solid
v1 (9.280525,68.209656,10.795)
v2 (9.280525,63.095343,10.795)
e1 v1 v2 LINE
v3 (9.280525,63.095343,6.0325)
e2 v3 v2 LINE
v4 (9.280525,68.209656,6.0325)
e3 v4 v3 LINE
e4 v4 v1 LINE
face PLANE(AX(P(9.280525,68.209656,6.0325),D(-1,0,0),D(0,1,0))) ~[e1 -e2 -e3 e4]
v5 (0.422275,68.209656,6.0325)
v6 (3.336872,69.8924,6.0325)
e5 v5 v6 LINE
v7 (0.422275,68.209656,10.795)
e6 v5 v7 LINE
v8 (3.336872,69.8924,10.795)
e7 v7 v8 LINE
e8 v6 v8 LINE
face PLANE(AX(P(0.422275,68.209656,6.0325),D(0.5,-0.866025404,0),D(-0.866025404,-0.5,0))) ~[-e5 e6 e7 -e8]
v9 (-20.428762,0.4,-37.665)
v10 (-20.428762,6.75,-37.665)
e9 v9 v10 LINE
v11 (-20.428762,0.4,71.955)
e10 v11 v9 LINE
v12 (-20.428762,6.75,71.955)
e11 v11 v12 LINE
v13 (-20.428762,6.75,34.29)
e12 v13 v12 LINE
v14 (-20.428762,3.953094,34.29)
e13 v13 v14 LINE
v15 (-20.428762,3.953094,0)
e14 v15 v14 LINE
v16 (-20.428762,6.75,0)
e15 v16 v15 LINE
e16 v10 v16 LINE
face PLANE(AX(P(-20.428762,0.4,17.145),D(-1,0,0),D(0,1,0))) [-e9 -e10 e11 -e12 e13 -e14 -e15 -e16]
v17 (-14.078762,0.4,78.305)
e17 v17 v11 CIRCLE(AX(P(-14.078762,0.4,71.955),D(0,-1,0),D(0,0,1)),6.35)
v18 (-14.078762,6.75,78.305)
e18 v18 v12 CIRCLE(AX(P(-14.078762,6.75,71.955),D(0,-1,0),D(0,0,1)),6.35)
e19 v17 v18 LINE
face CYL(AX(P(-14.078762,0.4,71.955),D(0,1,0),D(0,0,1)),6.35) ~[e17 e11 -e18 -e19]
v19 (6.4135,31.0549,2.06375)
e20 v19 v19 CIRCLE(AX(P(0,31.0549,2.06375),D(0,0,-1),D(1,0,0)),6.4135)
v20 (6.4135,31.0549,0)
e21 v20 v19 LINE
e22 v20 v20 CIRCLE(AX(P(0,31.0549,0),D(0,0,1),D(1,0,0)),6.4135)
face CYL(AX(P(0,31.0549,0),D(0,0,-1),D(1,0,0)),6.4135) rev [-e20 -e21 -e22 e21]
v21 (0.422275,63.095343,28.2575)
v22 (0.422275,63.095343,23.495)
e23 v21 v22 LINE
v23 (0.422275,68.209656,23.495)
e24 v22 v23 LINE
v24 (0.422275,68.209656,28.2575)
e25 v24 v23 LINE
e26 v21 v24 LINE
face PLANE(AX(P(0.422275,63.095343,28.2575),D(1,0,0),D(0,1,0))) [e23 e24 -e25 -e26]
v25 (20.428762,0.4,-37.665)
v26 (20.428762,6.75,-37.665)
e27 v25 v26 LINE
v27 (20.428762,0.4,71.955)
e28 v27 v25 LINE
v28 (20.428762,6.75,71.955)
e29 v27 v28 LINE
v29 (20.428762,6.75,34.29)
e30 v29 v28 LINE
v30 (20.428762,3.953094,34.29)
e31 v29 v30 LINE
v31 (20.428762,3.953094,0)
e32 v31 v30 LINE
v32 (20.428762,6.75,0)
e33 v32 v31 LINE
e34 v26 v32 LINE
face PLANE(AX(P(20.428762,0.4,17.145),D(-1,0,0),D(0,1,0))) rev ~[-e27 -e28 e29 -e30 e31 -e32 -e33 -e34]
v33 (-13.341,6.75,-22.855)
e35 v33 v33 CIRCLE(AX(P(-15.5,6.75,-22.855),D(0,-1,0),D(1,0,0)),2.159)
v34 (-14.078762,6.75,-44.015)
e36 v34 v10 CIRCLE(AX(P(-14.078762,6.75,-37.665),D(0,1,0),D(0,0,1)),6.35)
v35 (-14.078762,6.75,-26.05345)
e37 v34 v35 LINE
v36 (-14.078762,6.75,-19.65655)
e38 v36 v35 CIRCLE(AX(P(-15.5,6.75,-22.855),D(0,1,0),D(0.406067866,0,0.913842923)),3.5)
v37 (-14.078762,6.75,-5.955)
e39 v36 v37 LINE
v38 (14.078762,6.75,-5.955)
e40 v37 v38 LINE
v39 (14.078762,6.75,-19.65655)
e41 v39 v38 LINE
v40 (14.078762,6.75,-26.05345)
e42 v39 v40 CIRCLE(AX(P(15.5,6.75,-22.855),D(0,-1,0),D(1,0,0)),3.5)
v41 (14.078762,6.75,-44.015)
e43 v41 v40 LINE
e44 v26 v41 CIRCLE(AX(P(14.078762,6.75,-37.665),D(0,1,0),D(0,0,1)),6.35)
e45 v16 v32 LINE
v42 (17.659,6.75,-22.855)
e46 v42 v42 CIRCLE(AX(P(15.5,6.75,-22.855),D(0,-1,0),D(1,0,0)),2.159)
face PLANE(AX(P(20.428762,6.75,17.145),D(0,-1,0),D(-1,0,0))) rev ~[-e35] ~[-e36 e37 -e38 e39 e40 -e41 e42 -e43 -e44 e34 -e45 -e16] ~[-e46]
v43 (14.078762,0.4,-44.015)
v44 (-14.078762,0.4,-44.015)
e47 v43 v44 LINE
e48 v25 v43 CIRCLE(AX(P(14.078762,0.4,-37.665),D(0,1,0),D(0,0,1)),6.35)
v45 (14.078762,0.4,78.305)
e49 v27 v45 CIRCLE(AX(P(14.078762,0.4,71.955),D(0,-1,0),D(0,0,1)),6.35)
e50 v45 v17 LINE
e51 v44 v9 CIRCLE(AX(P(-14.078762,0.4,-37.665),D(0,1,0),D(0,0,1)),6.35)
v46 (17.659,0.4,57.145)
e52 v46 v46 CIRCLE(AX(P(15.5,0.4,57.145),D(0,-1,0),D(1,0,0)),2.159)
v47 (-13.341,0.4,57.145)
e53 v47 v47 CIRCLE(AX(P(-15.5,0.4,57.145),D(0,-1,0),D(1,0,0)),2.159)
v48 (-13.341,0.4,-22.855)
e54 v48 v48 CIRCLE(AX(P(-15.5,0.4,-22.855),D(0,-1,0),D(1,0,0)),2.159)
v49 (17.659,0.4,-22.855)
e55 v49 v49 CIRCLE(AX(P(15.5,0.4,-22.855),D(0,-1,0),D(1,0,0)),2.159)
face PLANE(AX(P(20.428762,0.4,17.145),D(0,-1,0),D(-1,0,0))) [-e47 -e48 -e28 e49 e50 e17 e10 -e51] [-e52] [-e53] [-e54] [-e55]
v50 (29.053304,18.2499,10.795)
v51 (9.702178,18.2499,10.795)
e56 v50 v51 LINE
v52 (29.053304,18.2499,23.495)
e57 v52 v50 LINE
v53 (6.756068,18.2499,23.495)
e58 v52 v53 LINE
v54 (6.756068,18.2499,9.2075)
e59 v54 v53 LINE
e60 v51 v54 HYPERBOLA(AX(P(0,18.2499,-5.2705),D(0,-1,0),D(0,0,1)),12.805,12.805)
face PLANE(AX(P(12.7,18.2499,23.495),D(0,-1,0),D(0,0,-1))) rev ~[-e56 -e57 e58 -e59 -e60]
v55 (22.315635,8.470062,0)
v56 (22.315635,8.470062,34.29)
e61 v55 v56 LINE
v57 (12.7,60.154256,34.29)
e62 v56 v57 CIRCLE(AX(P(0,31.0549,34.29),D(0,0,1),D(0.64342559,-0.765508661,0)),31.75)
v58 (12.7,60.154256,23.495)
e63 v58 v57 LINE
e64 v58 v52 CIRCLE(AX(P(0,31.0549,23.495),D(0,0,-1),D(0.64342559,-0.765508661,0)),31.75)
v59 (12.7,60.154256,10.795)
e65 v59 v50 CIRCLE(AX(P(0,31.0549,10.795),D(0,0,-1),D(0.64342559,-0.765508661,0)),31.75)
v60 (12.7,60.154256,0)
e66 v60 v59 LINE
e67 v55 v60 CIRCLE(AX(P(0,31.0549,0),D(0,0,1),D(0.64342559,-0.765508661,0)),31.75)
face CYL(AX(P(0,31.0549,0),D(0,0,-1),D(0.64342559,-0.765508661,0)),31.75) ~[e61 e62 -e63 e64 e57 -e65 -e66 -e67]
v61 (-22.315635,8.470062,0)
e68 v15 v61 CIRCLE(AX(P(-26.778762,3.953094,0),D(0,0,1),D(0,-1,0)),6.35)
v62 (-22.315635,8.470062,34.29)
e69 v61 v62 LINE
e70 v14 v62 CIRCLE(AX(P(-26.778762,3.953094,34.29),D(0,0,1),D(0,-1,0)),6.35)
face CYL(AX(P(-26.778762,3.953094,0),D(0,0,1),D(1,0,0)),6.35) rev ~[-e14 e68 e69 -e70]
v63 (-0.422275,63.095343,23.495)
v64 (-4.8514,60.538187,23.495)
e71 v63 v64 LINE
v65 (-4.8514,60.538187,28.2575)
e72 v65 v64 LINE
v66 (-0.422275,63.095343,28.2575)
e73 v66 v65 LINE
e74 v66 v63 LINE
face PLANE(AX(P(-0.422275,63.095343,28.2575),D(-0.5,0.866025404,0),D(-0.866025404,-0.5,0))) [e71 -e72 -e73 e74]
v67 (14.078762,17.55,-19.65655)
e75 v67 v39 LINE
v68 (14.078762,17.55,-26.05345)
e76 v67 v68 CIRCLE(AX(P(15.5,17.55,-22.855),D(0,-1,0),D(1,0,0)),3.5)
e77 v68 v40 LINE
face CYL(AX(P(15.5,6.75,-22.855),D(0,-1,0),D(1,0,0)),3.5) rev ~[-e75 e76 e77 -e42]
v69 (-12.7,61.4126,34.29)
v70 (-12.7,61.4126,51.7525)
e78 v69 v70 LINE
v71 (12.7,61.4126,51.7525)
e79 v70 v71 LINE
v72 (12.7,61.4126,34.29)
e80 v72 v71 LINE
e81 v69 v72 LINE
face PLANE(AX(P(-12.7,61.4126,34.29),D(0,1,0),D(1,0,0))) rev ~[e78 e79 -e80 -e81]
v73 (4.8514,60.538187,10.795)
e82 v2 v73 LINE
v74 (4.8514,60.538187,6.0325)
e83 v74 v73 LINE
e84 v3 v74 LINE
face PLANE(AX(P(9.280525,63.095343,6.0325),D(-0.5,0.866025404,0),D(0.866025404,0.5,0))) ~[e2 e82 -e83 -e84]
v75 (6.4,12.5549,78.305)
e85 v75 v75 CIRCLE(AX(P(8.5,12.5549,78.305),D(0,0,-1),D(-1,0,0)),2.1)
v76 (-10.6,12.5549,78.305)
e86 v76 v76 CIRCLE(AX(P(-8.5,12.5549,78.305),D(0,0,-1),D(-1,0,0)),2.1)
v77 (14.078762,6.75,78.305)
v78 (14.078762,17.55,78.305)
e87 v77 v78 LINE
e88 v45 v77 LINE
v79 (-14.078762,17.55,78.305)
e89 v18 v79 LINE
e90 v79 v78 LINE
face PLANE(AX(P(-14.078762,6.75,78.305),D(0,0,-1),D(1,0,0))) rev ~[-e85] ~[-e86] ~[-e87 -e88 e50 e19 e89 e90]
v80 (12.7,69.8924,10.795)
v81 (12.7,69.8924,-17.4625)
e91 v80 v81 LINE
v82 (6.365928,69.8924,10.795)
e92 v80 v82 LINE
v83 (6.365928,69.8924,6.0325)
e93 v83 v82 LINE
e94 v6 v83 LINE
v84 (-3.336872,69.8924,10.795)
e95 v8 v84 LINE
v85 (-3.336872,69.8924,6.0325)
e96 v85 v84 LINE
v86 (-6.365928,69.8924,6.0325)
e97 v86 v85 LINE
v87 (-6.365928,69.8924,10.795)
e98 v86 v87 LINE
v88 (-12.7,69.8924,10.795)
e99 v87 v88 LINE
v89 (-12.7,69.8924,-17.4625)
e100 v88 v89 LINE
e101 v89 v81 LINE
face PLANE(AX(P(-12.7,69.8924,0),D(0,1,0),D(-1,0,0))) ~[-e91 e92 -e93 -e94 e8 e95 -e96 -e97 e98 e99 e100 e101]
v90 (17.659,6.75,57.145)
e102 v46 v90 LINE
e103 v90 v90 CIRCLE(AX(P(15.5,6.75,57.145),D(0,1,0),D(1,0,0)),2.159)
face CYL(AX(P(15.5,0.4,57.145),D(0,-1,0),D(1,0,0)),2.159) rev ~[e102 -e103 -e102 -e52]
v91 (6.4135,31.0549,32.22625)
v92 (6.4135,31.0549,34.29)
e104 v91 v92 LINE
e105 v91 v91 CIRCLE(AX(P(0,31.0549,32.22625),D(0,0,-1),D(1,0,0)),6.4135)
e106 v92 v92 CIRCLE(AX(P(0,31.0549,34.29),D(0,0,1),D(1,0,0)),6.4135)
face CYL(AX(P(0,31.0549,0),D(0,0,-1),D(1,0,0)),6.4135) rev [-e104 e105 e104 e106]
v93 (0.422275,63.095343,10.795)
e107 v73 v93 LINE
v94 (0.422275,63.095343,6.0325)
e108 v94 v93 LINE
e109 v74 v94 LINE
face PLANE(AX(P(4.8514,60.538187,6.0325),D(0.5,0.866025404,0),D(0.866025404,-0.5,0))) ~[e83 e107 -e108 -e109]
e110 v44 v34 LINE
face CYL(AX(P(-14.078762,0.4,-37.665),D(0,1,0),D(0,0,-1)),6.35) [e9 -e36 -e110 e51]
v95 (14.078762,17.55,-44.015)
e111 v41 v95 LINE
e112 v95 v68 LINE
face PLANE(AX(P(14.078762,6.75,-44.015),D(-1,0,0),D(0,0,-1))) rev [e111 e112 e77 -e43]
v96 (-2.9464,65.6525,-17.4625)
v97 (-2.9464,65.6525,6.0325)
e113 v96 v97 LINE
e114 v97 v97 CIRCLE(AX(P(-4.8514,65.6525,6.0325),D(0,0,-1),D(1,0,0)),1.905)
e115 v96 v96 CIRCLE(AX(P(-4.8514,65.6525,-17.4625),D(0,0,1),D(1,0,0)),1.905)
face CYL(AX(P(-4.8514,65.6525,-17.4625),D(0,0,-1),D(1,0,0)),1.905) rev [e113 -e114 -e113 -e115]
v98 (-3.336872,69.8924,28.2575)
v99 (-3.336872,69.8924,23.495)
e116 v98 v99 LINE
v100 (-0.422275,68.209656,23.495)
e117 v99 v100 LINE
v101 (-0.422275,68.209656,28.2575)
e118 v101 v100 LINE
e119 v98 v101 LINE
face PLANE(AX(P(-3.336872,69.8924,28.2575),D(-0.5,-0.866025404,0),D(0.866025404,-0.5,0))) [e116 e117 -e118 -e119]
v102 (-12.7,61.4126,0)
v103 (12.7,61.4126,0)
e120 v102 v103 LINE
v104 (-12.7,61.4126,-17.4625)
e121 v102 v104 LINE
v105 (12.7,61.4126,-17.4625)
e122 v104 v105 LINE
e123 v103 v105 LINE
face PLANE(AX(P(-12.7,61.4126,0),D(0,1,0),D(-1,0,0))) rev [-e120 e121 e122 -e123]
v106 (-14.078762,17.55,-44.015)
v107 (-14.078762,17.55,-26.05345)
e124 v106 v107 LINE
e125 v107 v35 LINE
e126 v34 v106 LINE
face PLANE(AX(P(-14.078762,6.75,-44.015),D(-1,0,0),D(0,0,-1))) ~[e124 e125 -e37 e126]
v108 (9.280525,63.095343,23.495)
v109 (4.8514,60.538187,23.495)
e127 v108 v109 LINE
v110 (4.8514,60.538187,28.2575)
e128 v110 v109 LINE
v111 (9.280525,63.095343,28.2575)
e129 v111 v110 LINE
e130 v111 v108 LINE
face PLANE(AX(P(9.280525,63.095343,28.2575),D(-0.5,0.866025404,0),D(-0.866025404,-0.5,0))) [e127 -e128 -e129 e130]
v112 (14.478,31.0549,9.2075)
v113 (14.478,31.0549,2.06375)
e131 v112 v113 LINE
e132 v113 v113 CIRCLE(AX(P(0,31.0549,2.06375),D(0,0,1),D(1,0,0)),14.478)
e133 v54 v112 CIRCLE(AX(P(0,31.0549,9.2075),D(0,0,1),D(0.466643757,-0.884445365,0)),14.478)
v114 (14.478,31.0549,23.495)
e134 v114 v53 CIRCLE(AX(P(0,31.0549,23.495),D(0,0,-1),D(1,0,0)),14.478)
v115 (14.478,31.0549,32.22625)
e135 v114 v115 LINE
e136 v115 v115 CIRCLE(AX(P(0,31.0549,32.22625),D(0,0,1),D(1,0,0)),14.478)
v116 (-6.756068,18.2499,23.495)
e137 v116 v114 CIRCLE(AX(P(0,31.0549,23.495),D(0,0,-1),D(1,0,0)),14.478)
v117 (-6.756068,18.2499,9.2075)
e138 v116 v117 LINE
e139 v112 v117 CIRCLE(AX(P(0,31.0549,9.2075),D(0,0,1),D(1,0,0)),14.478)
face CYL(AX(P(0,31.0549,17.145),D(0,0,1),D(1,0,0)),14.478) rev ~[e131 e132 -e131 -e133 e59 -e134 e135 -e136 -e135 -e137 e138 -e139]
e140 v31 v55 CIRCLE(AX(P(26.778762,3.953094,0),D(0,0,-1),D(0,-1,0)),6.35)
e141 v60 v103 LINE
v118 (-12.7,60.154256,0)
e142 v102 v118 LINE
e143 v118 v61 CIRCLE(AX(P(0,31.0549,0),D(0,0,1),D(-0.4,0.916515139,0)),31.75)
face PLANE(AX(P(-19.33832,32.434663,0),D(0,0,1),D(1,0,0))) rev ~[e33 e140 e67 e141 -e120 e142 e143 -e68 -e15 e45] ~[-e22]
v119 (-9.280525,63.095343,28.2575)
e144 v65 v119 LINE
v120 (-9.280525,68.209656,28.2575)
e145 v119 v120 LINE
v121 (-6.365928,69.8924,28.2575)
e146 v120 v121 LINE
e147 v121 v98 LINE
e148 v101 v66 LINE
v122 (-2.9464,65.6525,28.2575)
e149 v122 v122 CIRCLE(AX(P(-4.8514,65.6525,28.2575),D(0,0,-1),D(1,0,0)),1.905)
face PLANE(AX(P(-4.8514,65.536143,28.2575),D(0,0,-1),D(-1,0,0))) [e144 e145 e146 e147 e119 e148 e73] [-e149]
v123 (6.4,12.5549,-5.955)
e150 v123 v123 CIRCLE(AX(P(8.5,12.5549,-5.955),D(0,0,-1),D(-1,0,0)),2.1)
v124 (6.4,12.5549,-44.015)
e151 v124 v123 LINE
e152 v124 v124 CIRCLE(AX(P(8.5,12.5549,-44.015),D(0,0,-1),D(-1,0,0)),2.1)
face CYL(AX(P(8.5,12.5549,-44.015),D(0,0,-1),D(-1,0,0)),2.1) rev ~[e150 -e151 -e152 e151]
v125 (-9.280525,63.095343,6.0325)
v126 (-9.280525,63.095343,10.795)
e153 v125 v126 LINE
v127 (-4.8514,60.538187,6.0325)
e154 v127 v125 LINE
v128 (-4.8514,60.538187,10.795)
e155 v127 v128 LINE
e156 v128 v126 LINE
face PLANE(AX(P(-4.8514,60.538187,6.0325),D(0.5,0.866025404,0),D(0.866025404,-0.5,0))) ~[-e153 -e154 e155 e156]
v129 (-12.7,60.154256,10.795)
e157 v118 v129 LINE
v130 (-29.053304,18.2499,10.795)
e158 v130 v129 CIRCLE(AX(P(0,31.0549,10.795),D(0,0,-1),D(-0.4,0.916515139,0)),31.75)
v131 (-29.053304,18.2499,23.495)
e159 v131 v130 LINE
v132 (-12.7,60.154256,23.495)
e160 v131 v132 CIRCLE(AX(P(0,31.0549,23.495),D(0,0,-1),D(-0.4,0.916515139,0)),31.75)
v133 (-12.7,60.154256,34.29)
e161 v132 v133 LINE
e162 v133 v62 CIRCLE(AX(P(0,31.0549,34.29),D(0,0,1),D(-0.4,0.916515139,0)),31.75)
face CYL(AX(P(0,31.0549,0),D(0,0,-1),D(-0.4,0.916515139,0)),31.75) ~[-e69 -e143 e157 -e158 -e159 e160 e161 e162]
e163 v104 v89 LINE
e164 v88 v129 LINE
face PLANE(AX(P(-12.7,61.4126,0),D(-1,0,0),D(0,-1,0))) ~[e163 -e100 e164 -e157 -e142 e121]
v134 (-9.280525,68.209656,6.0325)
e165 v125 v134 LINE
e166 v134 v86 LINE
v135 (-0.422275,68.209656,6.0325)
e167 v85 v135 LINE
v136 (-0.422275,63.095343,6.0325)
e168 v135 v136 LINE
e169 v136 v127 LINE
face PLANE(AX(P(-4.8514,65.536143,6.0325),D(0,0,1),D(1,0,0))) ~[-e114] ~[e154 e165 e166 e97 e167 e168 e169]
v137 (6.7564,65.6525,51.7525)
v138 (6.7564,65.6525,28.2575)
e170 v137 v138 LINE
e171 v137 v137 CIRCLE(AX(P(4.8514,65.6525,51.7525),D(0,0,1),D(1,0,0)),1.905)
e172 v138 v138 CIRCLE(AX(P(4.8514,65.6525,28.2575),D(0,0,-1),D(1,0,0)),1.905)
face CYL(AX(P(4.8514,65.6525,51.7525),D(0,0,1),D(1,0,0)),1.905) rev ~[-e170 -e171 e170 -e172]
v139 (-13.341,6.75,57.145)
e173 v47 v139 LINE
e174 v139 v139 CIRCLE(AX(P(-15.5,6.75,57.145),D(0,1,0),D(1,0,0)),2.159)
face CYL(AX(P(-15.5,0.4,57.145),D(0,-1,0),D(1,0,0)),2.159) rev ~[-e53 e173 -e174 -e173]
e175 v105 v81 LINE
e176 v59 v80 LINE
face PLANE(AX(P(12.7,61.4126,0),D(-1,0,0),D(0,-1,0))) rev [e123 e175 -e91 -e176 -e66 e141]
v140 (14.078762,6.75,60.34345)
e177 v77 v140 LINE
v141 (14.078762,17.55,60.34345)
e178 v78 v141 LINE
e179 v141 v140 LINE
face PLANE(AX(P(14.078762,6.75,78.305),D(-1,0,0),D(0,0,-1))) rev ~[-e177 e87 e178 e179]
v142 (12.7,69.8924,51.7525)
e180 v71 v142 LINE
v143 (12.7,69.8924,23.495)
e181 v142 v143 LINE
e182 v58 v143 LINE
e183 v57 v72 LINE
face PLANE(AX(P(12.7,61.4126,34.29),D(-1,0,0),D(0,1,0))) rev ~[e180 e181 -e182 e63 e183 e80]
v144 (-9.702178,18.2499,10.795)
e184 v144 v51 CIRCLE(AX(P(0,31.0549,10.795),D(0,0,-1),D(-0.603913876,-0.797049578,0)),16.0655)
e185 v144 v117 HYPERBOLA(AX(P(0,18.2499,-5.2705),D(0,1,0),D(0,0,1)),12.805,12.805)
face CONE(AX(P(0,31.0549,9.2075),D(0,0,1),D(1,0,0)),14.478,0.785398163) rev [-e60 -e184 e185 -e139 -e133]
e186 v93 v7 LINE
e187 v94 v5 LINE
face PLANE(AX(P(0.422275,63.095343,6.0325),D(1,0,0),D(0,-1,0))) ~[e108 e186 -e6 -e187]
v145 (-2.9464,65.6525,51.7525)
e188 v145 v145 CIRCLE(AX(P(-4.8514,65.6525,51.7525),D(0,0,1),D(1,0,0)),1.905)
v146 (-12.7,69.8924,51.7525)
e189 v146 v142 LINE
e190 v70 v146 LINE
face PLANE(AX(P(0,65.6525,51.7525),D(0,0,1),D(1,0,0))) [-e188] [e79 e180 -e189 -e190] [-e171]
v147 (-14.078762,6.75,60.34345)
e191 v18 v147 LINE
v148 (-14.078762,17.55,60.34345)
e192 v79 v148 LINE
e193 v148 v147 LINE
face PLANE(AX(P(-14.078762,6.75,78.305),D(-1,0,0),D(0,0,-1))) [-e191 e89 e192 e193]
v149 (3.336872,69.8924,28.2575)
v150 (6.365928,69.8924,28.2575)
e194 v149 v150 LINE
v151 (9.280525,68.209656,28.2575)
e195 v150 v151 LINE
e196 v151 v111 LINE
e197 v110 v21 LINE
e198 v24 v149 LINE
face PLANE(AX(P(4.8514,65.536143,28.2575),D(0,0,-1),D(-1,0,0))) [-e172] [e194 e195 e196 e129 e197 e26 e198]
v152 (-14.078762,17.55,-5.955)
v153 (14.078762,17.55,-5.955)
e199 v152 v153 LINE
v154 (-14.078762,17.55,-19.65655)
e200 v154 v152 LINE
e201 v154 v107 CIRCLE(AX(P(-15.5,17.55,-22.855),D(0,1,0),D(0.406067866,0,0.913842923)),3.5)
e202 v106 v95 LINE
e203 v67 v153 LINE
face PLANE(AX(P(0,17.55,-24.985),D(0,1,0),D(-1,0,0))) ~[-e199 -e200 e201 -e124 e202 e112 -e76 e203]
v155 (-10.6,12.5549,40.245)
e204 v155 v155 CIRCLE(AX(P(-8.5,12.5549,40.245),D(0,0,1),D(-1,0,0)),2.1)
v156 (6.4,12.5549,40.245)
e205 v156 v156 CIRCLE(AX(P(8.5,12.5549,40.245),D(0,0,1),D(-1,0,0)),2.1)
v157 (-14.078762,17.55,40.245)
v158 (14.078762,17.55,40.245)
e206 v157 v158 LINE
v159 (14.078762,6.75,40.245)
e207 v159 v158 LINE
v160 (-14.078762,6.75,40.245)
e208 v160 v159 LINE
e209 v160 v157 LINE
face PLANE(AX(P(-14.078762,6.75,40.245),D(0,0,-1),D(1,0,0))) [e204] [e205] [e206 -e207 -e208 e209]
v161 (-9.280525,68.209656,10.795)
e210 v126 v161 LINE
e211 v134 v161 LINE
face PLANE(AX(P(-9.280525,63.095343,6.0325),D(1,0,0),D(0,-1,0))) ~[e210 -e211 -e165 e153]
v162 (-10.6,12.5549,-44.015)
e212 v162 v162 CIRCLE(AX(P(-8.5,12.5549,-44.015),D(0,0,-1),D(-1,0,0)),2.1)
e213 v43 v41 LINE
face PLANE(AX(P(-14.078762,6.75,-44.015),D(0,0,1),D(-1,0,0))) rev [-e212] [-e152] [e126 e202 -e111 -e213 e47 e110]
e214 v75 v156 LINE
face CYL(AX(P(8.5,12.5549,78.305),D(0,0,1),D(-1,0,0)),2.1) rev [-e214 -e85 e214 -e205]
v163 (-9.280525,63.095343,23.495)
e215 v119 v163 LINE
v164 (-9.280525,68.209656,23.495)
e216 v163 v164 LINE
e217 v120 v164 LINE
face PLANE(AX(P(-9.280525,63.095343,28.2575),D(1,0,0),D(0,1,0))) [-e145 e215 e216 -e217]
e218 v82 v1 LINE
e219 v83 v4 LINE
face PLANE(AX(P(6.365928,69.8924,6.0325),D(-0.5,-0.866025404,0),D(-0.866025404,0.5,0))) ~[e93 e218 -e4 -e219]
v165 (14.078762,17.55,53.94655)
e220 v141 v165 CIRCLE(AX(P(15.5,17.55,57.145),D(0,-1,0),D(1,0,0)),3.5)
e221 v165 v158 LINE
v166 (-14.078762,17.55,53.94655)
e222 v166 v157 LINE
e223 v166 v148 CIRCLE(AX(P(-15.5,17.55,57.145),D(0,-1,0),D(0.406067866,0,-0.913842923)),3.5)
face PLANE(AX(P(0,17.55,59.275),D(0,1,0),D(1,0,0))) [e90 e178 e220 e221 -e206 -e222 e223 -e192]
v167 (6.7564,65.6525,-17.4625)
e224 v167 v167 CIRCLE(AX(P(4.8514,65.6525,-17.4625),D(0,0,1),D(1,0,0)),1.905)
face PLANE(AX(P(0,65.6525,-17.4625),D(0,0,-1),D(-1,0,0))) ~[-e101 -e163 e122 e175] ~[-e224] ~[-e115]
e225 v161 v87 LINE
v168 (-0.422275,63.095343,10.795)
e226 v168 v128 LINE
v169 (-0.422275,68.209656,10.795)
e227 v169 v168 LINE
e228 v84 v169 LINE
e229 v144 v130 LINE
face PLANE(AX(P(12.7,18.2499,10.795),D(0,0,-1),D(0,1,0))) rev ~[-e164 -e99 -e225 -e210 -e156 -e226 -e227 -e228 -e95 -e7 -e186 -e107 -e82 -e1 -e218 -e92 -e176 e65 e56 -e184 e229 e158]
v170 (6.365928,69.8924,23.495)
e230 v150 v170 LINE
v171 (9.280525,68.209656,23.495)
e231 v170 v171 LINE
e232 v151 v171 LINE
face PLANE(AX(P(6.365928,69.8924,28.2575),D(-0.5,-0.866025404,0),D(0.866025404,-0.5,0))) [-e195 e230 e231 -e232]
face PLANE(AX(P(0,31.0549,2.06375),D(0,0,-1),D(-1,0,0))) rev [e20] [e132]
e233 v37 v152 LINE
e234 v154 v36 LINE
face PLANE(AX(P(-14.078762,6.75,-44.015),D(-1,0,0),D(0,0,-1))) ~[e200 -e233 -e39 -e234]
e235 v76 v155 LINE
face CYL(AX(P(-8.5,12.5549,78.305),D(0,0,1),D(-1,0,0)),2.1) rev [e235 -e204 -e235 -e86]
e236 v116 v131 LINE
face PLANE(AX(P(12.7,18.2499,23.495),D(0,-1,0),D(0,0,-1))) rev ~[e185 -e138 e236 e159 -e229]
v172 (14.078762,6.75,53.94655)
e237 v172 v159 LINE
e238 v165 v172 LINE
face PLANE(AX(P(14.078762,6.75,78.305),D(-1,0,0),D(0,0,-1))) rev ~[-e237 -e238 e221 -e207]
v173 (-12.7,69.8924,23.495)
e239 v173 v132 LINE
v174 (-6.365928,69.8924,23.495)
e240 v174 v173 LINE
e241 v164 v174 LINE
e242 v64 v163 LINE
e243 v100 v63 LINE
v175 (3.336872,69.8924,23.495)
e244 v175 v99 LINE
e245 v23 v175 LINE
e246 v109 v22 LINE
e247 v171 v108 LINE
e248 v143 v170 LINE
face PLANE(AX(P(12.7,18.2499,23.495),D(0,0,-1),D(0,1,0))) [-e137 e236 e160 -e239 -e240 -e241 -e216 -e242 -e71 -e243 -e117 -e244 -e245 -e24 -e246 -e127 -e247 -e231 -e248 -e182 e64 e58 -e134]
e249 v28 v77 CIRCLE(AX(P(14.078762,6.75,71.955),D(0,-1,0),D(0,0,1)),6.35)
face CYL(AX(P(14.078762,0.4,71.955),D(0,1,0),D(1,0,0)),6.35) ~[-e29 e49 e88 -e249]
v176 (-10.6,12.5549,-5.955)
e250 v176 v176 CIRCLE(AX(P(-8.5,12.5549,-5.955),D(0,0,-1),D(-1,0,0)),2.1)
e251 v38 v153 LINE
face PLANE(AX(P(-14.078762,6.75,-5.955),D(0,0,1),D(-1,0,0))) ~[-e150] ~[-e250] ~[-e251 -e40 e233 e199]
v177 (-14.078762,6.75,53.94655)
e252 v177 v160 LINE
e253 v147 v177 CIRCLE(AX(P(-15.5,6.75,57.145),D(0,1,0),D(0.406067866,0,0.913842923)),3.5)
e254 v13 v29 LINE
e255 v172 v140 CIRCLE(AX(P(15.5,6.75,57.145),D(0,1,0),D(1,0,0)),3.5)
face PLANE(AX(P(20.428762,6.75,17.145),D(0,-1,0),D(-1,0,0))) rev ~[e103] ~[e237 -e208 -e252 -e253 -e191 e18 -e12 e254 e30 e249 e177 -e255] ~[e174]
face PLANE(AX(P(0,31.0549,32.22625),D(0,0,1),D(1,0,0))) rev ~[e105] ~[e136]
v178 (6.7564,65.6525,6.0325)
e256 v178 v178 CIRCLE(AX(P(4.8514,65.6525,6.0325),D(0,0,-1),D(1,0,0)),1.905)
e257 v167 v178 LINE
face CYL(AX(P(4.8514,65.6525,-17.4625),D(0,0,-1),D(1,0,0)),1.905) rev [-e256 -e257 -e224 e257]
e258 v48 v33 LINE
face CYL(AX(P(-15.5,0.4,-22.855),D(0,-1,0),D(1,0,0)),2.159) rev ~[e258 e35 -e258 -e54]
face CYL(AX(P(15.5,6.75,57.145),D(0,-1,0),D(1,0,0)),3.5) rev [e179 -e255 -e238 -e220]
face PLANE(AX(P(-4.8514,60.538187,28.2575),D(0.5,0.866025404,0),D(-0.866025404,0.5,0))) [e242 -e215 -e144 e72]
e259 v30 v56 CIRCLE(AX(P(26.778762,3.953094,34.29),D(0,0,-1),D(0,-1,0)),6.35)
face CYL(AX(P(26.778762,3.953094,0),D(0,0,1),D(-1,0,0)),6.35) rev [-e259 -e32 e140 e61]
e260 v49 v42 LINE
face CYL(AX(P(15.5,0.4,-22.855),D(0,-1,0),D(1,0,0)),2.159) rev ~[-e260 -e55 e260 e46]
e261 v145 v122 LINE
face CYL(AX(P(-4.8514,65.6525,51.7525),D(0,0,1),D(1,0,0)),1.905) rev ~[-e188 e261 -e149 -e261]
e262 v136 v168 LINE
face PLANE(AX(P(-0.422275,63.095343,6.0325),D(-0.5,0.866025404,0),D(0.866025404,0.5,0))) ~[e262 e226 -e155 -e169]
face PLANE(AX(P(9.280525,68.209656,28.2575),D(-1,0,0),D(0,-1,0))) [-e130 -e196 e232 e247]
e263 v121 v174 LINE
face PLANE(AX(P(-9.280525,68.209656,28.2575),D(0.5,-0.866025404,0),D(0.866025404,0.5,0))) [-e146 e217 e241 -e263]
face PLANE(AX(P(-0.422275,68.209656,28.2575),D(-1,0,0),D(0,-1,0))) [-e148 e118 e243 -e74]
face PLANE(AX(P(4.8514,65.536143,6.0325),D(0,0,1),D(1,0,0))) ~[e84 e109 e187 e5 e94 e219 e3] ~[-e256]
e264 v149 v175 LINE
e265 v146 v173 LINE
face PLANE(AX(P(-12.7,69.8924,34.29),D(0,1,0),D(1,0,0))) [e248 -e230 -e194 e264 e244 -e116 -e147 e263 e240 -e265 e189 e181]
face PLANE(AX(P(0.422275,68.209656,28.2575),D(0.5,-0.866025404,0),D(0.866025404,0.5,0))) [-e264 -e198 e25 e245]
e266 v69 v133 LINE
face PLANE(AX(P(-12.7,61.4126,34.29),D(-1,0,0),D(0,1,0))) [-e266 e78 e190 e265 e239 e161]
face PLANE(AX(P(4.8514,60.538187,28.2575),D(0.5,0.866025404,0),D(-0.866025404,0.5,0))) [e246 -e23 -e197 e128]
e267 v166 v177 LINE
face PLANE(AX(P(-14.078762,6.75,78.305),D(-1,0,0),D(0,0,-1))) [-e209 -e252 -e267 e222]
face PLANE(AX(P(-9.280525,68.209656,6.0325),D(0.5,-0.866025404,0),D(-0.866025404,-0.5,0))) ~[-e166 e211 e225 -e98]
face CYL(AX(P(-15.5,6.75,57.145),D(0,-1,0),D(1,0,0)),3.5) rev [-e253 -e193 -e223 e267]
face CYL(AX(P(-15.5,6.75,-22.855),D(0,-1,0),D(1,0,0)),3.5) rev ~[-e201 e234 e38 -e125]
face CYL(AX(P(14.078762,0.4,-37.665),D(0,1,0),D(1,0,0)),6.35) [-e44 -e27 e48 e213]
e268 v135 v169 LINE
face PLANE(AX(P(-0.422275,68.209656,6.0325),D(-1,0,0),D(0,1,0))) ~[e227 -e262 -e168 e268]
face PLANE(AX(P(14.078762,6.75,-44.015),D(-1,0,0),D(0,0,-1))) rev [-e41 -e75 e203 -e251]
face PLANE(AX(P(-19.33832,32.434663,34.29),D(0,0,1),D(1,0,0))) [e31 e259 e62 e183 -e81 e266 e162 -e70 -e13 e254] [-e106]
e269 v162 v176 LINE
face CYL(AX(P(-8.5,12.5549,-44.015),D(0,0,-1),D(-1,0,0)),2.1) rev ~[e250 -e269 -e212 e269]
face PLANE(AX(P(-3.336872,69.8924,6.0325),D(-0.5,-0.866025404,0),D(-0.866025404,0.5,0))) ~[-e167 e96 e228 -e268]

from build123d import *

# Parameters (mm, degrees)
SKETCH1_R                      = 6.4135
BOSS_EXTRUDE1_DEPTH            = 34.29
CUT_EXTRUDE1_REACH             = 100.106
SKETCH3_W                      = 12.7
SKETCH3_H                      = 51.6425
CUT_EXTRUDE1_DIRECTION_2_REACH = 100.106
SKETCH5_R                      = 2.159
CUT_EXTRUDE2_DEPTH             = 86.858993575
SKETCH6_W                      = 25.4
SKETCH6_H                      = 8.47980016
BOSS_EXTRUDE2_DEPTH            = 17.4625
CUT_EXTRUDE9_START             = -6.35
SKETCH12_R                     = 14.478
CUT_EXTRUDE9_DEPTH             = 15.08125
SKETCH8_R                      = 1.905
CUT_EXTRUDE11_DEPTH            = 40.9575
CUT_EXTRUDE12_START            = -4.7625
SKETCH14_R                     = 1.905
CUT_EXTRUDE12_DEPTH            = 4.7625
FILLET4_R                      = 6.35
CHAMFER1_SIZE                  = 1.5875
CUT_EXTRUDE13_DEPTH            = 95.203417847
SKETCH16_W                     = 40.857524936
SKETCH16_H                     = 6.35
BOSS_EXTRUDE3_DEPTH            = 61.16
SKETCH17_R                     = 2.159
CUT_EXTRUDE14_DEPTH            = 6.35
FILLET5_R                      = 6.35
SKETCH18_W                     = 28.157524936
SKETCH18_H                     = 38.06
BOSS_EXTRUDE4_DEPTH            = 10.8
SKETCH19_R                     = 2.1
CUT_EXTRUDE15_DEPTH            = 40
SKETCH21_R                     = 3.5
CUT_EXTRUDE16_DEPTH            = 11
SKETCH22_R                     = 3.5
CUT_EXTRUDE17_DEPTH            = 11


with BuildPart() as part:
    # Sketch1 → Boss-Extrude1 (new body)
    # profile 1 of 3: a face of its own
    with BuildSketch(Plane.XY):
        with BuildLine():
            Line((12.7, 6.75), (20.428762468, 6.75))
            ThreePointArc((20.428762468, 6.75), (31.422640825, 35.602442589), (12.7, 60.154255663))
            Line((12.7, 60.154255663), (12.7, 6.75))
        make_face()
    # profile 2 of 3: a face of its own
    with BuildSketch(Plane.XY):
        Polygon((-47, 0.4), (-10.625, 0.4), (10.625, 0.4), (47, 0.4), (47, 6.75), (12.7, 6.75), (12.7, 69.8924), (-12.7, 69.8924), (-12.7, 6.75), (-47, 6.75), align=None)
        with Locations((0, 31.0549)):
            Circle(SKETCH1_R, mode=Mode.SUBTRACT)
    # profile 3 of 3: a face of its own
    with BuildSketch(Plane.XY):
        with BuildLine():
            ThreePointArc((-12.7, 60.154255663), (-31.422640825, 35.602442589), (-20.428762468, 6.75))
            Line((-20.428762468, 6.75), (-12.7, 6.75))
            Line((-12.7, 6.75), (-12.7, 60.154255663))
        make_face()
    extrude(amount=BOSS_EXTRUDE1_DEPTH)

    # Sketch3 → Cut-Extrude1 (cut, up to next)
    with BuildSketch(Plane(origin=(12.7, 0, 0), x_dir=(0, 0, -1), z_dir=(1, 0, 0)), mode=Mode.PRIVATE) as cut_extrude1_sk1:
        with Locations((-17.145, 44.07115)):
            Rectangle(SKETCH3_W, SKETCH3_H)
    cut_extrude1_tool1 = extrude(cut_extrude1_sk1.sketch, amount=-CUT_EXTRUDE1_REACH, mode=Mode.PRIVATE) & part.part
    add(cut_extrude1_tool1.solids().sort_by_distance((12.7, 44.07115, 17.145))[0], mode=Mode.SUBTRACT)

    # Sketch3 → Cut-Extrude1 direction 2 (cut, up to next)
    with BuildSketch(Plane(origin=(12.7, 0, 0), x_dir=(0, 0, -1), z_dir=(1, 0, 0)), mode=Mode.PRIVATE) as cut_extrude1_direction_2_sk1:
        with Locations((-17.145, 44.07115)):
            Rectangle(SKETCH3_W, SKETCH3_H)
    cut_extrude1_direction_2_tool1 = extrude(cut_extrude1_direction_2_sk1.sketch, amount=CUT_EXTRUDE1_DIRECTION_2_REACH, mode=Mode.PRIVATE) & part.part
    add(cut_extrude1_direction_2_tool1.solids().sort_by_distance((12.7, 44.07115, 17.145))[0], mode=Mode.SUBTRACT)

    # Sketch5 → Cut-Extrude2 (cut, through all)
    with BuildSketch(Plane(origin=(0, 6.75, 0), x_dir=(1, 0, 0), z_dir=(0, 1, 0))):
        with Locations(Location((40, -27.94, 0), (0, 0, 180))):
            Circle(SKETCH5_R)
        with Locations(Location((40, -6.35, 0), (0, 0, 180))):
            Circle(SKETCH5_R)
        with Locations(Location((-40, -6.35, 0), (0, 0, 180))):
            Circle(SKETCH5_R)
        with Locations(Location((-40, -27.94, 0), (0, 0, 180))):
            Circle(SKETCH5_R)
    extrude(amount=-CUT_EXTRUDE2_DEPTH, mode=Mode.SUBTRACT)

    # Sketch6 → Boss-Extrude2 (add)
    with BuildSketch(Plane.XY.offset(34.29)):
        with Locations((0, 65.65249992)):
            Rectangle(SKETCH6_W, SKETCH6_H)
    boss_extrude2 = extrude(amount=BOSS_EXTRUDE2_DEPTH)

    # Sketch12 → Cut-Extrude9 (cut)
    with BuildSketch(Plane.XY.offset(23.495).offset(CUT_EXTRUDE9_START)):
        with Locations((0, 31.0549)):
            Circle(SKETCH12_R)
    cut_extrude9 = extrude(amount=CUT_EXTRUDE9_DEPTH, mode=Mode.SUBTRACT)

    # Sketch8 → Cut-Extrude11 (cut)
    with BuildSketch(Plane.XY.offset(51.7525)):
        with Locations((-4.8514, 65.65249992)):
            Circle(SKETCH8_R)
        with Locations((4.8514, 65.65249992)):
            Circle(SKETCH8_R)
    cut_extrude11 = extrude(amount=-CUT_EXTRUDE11_DEPTH, mode=Mode.SUBTRACT)

    # Sketch14 → Cut-Extrude12 (cut)
    # profile 1 of 2: a face of its own
    with BuildSketch(Plane(origin=(0, 0, 23.495), x_dir=(-1, 0, 0), z_dir=(0, 0, -1)).offset(CUT_EXTRUDE12_START)):
        Polygon((-4.8514, 60.538186898), (-0.422275, 63.095343409), (-0.422275, 68.209656431), (-3.336872358, 69.8924), (-6.365927642, 69.8924), (-9.280525, 68.209656431), (-9.280525, 63.095343409), align=None)
        with Locations(Location((-4.8514, 65.65249992, 0), (0, 0, 180))):
            Circle(SKETCH14_R, mode=Mode.SUBTRACT)
    # profile 2 of 2: a face of its own
    with BuildSketch(Plane(origin=(0, 0, 23.495), x_dir=(-1, 0, 0), z_dir=(0, 0, -1)).offset(CUT_EXTRUDE12_START)):
        Polygon((6.365927642, 69.8924), (3.336872358, 69.8924), (0.422275, 68.209656431), (0.422275, 63.095343409), (4.8514, 60.538186898), (9.280525, 63.095343409), (9.280525, 68.209656431), align=None)
        with Locations(Location((4.8514, 65.65249992, 0), (0, 0, 180))):
            Circle(SKETCH14_R, mode=Mode.SUBTRACT)
    cut_extrude12 = extrude(amount=CUT_EXTRUDE12_DEPTH, mode=Mode.SUBTRACT)

    # Mirror4: Boss-Extrude2, Cut-Extrude9, Cut-Extrude11, Cut-Extrude12 across plane
    add(boss_extrude2.mirror(Plane(origin=(0, 0, 17.145), x_dir=(1, 0, 0), z_dir=(0, 0, -1))))
    add(cut_extrude9.mirror(Plane(origin=(0, 0, 17.145), x_dir=(1, 0, 0), z_dir=(0, 0, -1))), mode=Mode.SUBTRACT)
    add(cut_extrude11.mirror(Plane(origin=(0, 0, 17.145), x_dir=(1, 0, 0), z_dir=(0, 0, -1))), mode=Mode.SUBTRACT)
    add(cut_extrude12.mirror(Plane(origin=(0, 0, 17.145), x_dir=(1, 0, 0), z_dir=(0, 0, -1))), mode=Mode.SUBTRACT)

    # Fillet4
    fillet4_edges = [part.edges().sort_by_distance(p)[0] for p in [
        (47, 3.575, 0),
        (-47, 3.575, 0),
        (-47, 3.575, 34.29),
        (47, 3.575, 34.29),
    ]]
    fillet(fillet4_edges, radius=FILLET4_R)

    # Chamfer1
    chamfer1_edges = [part.edges().sort_by_distance(p)[0] for p in [
        (-7.476567629, 43.453021652, 10.795),
    ]]
    chamfer(chamfer1_edges, length=CHAMFER1_SIZE)

    # Sketch15 → Cut-Extrude13 (cut, through all)
    with BuildSketch(Plane(origin=(0, 6.75, 0), x_dir=(1, 0, 0), z_dir=(0, 1, 0))):
        with BuildLine():
            Line((20.428762468, 1.013392391), (20.428762468, -35.303392391))
            ThreePointArc((20.428762468, -35.303392391), (22.863261605, -34.54592678), (25.4, -34.29))
            Line((25.4, -34.29), (40.65, -34.29))
            ThreePointArc((40.65, -34.29), (45.140128061, -32.430128061), (47, -27.94))
            Line((47, -27.94), (47, -6.35))
            ThreePointArc((47, -6.35), (45.140128061, -1.859871939), (40.65, 0))
            Line((40.65, 0), (25.4, 0))
            ThreePointArc((25.4, 0), (22.863261605, 0.25592678), (20.428762468, 1.013392391))
        make_face()
        with BuildLine():
            Line((-40.65, 0), (-25.4, 0))
            ThreePointArc((-25.4, 0), (-22.863261605, 0.25592678), (-20.428762468, 1.013392391))
            Line((-20.428762468, 1.013392391), (-20.428762468, -35.303392391))
            ThreePointArc((-20.428762468, -35.303392391), (-22.863261605, -34.54592678), (-25.4, -34.29))
            Line((-25.4, -34.29), (-40.65, -34.29))
            ThreePointArc((-40.65, -34.29), (-45.140128061, -32.430128061), (-47, -27.94))
            Line((-47, -27.94), (-47, -6.35))
            ThreePointArc((-47, -6.35), (-45.140128061, -1.859871939), (-40.65, 0))
        make_face()
    extrude(amount=-CUT_EXTRUDE13_DEPTH, mode=Mode.SUBTRACT)

    # Sketch16 → Boss-Extrude3 (add, symmetric)
    with BuildSketch(Plane(origin=(0, 0, 17.145), x_dir=(-1, 0, 0), z_dir=(0, 0, -1))):
        with Locations((0, 3.575)):
            Rectangle(SKETCH16_W, SKETCH16_H)
    extrude(amount=BOSS_EXTRUDE3_DEPTH, both=True)

    # Sketch17 → Cut-Extrude14 (cut)
    with BuildSketch(Plane.XZ.offset(-0.4)):
        with Locations((15.5, 57.145)):
            Circle(SKETCH17_R)
        with Locations((-15.5, 57.145)):
            Circle(SKETCH17_R)
        with Locations((15.5, -22.855)):
            Circle(SKETCH17_R)
        with Locations((-15.5, -22.855)):
            Circle(SKETCH17_R)
    extrude(amount=-CUT_EXTRUDE14_DEPTH, mode=Mode.SUBTRACT)

    # Fillet5
    fillet5_edges = [part.edges().sort_by_distance(p)[0] for p in [
        (-20.428762468, 6.75, 17.145),
        (20.428762468, 6.75, 17.145),
        (-20.428762468, 3.575, -44.015),
        (20.428762468, 3.575, -44.015),
        (-20.428762468, 3.575, 78.305),
        (20.428762468, 3.575, 78.305),
    ]]
    fillet(fillet5_edges, radius=FILLET5_R)

    # Sketch18 → Boss-Extrude4 (add)
    with BuildSketch(Plane(origin=(0, 6.75, 0), x_dir=(1, 0, 0), z_dir=(0, 1, 0))):
        with Locations((0, -59.275)):
            Rectangle(SKETCH18_W, SKETCH18_H)
    boss_extrude4 = extrude(amount=BOSS_EXTRUDE4_DEPTH)

    # Mirror5: Boss-Extrude4 across plane
    add(boss_extrude4.mirror(Plane(origin=(0, 0, 17.145), x_dir=(1, 0, 0), z_dir=(0, 0, -1))))

    # Sketch19 → Cut-Extrude15 (cut)
    with BuildSketch(Plane(origin=(0, 0, -44.015), x_dir=(-1, 0, 0), z_dir=(0, 0, -1))):
        with Locations((8.5, 12.5549)):
            Circle(SKETCH19_R)
        with Locations((-8.5, 12.5549)):
            Circle(SKETCH19_R)
    cut_extrude15 = extrude(amount=-CUT_EXTRUDE15_DEPTH, mode=Mode.SUBTRACT)

    # Mirror6: Cut-Extrude15 across plane
    add(cut_extrude15.mirror(Plane(origin=(0, 0, 17.145), x_dir=(1, 0, 0), z_dir=(0, 0, -1))), mode=Mode.SUBTRACT)

    # Sketch21 → Cut-Extrude16 (cut)
    with BuildSketch(Plane(origin=(0, 6.75, 0), x_dir=(1, 0, 0), z_dir=(0, 1, 0))):
        with Locations((15.5, -57.145)):
            Circle(SKETCH21_R)
    cut_extrude16 = extrude(amount=CUT_EXTRUDE16_DEPTH, mode=Mode.SUBTRACT)

    # Sketch22 → Cut-Extrude17 (cut)
    with BuildSketch(Plane(origin=(0, 6.75, 0), x_dir=(1, 0, 0), z_dir=(0, 1, 0))):
        with Locations((-15.5, -57.145)):
            Circle(SKETCH22_R)
    cut_extrude17 = extrude(amount=CUT_EXTRUDE17_DEPTH, mode=Mode.SUBTRACT)

    # Mirror7: Cut-Extrude16, Cut-Extrude17 across plane
    add(cut_extrude16.mirror(Plane(origin=(0, 0, 17.145), x_dir=(1, 0, 0), z_dir=(0, 0, -1))), mode=Mode.SUBTRACT)
    add(cut_extrude17.mirror(Plane(origin=(0, 0, 17.145), x_dir=(1, 0, 0), z_dir=(0, 0, -1))), mode=Mode.SUBTRACT)


solid = part.part
